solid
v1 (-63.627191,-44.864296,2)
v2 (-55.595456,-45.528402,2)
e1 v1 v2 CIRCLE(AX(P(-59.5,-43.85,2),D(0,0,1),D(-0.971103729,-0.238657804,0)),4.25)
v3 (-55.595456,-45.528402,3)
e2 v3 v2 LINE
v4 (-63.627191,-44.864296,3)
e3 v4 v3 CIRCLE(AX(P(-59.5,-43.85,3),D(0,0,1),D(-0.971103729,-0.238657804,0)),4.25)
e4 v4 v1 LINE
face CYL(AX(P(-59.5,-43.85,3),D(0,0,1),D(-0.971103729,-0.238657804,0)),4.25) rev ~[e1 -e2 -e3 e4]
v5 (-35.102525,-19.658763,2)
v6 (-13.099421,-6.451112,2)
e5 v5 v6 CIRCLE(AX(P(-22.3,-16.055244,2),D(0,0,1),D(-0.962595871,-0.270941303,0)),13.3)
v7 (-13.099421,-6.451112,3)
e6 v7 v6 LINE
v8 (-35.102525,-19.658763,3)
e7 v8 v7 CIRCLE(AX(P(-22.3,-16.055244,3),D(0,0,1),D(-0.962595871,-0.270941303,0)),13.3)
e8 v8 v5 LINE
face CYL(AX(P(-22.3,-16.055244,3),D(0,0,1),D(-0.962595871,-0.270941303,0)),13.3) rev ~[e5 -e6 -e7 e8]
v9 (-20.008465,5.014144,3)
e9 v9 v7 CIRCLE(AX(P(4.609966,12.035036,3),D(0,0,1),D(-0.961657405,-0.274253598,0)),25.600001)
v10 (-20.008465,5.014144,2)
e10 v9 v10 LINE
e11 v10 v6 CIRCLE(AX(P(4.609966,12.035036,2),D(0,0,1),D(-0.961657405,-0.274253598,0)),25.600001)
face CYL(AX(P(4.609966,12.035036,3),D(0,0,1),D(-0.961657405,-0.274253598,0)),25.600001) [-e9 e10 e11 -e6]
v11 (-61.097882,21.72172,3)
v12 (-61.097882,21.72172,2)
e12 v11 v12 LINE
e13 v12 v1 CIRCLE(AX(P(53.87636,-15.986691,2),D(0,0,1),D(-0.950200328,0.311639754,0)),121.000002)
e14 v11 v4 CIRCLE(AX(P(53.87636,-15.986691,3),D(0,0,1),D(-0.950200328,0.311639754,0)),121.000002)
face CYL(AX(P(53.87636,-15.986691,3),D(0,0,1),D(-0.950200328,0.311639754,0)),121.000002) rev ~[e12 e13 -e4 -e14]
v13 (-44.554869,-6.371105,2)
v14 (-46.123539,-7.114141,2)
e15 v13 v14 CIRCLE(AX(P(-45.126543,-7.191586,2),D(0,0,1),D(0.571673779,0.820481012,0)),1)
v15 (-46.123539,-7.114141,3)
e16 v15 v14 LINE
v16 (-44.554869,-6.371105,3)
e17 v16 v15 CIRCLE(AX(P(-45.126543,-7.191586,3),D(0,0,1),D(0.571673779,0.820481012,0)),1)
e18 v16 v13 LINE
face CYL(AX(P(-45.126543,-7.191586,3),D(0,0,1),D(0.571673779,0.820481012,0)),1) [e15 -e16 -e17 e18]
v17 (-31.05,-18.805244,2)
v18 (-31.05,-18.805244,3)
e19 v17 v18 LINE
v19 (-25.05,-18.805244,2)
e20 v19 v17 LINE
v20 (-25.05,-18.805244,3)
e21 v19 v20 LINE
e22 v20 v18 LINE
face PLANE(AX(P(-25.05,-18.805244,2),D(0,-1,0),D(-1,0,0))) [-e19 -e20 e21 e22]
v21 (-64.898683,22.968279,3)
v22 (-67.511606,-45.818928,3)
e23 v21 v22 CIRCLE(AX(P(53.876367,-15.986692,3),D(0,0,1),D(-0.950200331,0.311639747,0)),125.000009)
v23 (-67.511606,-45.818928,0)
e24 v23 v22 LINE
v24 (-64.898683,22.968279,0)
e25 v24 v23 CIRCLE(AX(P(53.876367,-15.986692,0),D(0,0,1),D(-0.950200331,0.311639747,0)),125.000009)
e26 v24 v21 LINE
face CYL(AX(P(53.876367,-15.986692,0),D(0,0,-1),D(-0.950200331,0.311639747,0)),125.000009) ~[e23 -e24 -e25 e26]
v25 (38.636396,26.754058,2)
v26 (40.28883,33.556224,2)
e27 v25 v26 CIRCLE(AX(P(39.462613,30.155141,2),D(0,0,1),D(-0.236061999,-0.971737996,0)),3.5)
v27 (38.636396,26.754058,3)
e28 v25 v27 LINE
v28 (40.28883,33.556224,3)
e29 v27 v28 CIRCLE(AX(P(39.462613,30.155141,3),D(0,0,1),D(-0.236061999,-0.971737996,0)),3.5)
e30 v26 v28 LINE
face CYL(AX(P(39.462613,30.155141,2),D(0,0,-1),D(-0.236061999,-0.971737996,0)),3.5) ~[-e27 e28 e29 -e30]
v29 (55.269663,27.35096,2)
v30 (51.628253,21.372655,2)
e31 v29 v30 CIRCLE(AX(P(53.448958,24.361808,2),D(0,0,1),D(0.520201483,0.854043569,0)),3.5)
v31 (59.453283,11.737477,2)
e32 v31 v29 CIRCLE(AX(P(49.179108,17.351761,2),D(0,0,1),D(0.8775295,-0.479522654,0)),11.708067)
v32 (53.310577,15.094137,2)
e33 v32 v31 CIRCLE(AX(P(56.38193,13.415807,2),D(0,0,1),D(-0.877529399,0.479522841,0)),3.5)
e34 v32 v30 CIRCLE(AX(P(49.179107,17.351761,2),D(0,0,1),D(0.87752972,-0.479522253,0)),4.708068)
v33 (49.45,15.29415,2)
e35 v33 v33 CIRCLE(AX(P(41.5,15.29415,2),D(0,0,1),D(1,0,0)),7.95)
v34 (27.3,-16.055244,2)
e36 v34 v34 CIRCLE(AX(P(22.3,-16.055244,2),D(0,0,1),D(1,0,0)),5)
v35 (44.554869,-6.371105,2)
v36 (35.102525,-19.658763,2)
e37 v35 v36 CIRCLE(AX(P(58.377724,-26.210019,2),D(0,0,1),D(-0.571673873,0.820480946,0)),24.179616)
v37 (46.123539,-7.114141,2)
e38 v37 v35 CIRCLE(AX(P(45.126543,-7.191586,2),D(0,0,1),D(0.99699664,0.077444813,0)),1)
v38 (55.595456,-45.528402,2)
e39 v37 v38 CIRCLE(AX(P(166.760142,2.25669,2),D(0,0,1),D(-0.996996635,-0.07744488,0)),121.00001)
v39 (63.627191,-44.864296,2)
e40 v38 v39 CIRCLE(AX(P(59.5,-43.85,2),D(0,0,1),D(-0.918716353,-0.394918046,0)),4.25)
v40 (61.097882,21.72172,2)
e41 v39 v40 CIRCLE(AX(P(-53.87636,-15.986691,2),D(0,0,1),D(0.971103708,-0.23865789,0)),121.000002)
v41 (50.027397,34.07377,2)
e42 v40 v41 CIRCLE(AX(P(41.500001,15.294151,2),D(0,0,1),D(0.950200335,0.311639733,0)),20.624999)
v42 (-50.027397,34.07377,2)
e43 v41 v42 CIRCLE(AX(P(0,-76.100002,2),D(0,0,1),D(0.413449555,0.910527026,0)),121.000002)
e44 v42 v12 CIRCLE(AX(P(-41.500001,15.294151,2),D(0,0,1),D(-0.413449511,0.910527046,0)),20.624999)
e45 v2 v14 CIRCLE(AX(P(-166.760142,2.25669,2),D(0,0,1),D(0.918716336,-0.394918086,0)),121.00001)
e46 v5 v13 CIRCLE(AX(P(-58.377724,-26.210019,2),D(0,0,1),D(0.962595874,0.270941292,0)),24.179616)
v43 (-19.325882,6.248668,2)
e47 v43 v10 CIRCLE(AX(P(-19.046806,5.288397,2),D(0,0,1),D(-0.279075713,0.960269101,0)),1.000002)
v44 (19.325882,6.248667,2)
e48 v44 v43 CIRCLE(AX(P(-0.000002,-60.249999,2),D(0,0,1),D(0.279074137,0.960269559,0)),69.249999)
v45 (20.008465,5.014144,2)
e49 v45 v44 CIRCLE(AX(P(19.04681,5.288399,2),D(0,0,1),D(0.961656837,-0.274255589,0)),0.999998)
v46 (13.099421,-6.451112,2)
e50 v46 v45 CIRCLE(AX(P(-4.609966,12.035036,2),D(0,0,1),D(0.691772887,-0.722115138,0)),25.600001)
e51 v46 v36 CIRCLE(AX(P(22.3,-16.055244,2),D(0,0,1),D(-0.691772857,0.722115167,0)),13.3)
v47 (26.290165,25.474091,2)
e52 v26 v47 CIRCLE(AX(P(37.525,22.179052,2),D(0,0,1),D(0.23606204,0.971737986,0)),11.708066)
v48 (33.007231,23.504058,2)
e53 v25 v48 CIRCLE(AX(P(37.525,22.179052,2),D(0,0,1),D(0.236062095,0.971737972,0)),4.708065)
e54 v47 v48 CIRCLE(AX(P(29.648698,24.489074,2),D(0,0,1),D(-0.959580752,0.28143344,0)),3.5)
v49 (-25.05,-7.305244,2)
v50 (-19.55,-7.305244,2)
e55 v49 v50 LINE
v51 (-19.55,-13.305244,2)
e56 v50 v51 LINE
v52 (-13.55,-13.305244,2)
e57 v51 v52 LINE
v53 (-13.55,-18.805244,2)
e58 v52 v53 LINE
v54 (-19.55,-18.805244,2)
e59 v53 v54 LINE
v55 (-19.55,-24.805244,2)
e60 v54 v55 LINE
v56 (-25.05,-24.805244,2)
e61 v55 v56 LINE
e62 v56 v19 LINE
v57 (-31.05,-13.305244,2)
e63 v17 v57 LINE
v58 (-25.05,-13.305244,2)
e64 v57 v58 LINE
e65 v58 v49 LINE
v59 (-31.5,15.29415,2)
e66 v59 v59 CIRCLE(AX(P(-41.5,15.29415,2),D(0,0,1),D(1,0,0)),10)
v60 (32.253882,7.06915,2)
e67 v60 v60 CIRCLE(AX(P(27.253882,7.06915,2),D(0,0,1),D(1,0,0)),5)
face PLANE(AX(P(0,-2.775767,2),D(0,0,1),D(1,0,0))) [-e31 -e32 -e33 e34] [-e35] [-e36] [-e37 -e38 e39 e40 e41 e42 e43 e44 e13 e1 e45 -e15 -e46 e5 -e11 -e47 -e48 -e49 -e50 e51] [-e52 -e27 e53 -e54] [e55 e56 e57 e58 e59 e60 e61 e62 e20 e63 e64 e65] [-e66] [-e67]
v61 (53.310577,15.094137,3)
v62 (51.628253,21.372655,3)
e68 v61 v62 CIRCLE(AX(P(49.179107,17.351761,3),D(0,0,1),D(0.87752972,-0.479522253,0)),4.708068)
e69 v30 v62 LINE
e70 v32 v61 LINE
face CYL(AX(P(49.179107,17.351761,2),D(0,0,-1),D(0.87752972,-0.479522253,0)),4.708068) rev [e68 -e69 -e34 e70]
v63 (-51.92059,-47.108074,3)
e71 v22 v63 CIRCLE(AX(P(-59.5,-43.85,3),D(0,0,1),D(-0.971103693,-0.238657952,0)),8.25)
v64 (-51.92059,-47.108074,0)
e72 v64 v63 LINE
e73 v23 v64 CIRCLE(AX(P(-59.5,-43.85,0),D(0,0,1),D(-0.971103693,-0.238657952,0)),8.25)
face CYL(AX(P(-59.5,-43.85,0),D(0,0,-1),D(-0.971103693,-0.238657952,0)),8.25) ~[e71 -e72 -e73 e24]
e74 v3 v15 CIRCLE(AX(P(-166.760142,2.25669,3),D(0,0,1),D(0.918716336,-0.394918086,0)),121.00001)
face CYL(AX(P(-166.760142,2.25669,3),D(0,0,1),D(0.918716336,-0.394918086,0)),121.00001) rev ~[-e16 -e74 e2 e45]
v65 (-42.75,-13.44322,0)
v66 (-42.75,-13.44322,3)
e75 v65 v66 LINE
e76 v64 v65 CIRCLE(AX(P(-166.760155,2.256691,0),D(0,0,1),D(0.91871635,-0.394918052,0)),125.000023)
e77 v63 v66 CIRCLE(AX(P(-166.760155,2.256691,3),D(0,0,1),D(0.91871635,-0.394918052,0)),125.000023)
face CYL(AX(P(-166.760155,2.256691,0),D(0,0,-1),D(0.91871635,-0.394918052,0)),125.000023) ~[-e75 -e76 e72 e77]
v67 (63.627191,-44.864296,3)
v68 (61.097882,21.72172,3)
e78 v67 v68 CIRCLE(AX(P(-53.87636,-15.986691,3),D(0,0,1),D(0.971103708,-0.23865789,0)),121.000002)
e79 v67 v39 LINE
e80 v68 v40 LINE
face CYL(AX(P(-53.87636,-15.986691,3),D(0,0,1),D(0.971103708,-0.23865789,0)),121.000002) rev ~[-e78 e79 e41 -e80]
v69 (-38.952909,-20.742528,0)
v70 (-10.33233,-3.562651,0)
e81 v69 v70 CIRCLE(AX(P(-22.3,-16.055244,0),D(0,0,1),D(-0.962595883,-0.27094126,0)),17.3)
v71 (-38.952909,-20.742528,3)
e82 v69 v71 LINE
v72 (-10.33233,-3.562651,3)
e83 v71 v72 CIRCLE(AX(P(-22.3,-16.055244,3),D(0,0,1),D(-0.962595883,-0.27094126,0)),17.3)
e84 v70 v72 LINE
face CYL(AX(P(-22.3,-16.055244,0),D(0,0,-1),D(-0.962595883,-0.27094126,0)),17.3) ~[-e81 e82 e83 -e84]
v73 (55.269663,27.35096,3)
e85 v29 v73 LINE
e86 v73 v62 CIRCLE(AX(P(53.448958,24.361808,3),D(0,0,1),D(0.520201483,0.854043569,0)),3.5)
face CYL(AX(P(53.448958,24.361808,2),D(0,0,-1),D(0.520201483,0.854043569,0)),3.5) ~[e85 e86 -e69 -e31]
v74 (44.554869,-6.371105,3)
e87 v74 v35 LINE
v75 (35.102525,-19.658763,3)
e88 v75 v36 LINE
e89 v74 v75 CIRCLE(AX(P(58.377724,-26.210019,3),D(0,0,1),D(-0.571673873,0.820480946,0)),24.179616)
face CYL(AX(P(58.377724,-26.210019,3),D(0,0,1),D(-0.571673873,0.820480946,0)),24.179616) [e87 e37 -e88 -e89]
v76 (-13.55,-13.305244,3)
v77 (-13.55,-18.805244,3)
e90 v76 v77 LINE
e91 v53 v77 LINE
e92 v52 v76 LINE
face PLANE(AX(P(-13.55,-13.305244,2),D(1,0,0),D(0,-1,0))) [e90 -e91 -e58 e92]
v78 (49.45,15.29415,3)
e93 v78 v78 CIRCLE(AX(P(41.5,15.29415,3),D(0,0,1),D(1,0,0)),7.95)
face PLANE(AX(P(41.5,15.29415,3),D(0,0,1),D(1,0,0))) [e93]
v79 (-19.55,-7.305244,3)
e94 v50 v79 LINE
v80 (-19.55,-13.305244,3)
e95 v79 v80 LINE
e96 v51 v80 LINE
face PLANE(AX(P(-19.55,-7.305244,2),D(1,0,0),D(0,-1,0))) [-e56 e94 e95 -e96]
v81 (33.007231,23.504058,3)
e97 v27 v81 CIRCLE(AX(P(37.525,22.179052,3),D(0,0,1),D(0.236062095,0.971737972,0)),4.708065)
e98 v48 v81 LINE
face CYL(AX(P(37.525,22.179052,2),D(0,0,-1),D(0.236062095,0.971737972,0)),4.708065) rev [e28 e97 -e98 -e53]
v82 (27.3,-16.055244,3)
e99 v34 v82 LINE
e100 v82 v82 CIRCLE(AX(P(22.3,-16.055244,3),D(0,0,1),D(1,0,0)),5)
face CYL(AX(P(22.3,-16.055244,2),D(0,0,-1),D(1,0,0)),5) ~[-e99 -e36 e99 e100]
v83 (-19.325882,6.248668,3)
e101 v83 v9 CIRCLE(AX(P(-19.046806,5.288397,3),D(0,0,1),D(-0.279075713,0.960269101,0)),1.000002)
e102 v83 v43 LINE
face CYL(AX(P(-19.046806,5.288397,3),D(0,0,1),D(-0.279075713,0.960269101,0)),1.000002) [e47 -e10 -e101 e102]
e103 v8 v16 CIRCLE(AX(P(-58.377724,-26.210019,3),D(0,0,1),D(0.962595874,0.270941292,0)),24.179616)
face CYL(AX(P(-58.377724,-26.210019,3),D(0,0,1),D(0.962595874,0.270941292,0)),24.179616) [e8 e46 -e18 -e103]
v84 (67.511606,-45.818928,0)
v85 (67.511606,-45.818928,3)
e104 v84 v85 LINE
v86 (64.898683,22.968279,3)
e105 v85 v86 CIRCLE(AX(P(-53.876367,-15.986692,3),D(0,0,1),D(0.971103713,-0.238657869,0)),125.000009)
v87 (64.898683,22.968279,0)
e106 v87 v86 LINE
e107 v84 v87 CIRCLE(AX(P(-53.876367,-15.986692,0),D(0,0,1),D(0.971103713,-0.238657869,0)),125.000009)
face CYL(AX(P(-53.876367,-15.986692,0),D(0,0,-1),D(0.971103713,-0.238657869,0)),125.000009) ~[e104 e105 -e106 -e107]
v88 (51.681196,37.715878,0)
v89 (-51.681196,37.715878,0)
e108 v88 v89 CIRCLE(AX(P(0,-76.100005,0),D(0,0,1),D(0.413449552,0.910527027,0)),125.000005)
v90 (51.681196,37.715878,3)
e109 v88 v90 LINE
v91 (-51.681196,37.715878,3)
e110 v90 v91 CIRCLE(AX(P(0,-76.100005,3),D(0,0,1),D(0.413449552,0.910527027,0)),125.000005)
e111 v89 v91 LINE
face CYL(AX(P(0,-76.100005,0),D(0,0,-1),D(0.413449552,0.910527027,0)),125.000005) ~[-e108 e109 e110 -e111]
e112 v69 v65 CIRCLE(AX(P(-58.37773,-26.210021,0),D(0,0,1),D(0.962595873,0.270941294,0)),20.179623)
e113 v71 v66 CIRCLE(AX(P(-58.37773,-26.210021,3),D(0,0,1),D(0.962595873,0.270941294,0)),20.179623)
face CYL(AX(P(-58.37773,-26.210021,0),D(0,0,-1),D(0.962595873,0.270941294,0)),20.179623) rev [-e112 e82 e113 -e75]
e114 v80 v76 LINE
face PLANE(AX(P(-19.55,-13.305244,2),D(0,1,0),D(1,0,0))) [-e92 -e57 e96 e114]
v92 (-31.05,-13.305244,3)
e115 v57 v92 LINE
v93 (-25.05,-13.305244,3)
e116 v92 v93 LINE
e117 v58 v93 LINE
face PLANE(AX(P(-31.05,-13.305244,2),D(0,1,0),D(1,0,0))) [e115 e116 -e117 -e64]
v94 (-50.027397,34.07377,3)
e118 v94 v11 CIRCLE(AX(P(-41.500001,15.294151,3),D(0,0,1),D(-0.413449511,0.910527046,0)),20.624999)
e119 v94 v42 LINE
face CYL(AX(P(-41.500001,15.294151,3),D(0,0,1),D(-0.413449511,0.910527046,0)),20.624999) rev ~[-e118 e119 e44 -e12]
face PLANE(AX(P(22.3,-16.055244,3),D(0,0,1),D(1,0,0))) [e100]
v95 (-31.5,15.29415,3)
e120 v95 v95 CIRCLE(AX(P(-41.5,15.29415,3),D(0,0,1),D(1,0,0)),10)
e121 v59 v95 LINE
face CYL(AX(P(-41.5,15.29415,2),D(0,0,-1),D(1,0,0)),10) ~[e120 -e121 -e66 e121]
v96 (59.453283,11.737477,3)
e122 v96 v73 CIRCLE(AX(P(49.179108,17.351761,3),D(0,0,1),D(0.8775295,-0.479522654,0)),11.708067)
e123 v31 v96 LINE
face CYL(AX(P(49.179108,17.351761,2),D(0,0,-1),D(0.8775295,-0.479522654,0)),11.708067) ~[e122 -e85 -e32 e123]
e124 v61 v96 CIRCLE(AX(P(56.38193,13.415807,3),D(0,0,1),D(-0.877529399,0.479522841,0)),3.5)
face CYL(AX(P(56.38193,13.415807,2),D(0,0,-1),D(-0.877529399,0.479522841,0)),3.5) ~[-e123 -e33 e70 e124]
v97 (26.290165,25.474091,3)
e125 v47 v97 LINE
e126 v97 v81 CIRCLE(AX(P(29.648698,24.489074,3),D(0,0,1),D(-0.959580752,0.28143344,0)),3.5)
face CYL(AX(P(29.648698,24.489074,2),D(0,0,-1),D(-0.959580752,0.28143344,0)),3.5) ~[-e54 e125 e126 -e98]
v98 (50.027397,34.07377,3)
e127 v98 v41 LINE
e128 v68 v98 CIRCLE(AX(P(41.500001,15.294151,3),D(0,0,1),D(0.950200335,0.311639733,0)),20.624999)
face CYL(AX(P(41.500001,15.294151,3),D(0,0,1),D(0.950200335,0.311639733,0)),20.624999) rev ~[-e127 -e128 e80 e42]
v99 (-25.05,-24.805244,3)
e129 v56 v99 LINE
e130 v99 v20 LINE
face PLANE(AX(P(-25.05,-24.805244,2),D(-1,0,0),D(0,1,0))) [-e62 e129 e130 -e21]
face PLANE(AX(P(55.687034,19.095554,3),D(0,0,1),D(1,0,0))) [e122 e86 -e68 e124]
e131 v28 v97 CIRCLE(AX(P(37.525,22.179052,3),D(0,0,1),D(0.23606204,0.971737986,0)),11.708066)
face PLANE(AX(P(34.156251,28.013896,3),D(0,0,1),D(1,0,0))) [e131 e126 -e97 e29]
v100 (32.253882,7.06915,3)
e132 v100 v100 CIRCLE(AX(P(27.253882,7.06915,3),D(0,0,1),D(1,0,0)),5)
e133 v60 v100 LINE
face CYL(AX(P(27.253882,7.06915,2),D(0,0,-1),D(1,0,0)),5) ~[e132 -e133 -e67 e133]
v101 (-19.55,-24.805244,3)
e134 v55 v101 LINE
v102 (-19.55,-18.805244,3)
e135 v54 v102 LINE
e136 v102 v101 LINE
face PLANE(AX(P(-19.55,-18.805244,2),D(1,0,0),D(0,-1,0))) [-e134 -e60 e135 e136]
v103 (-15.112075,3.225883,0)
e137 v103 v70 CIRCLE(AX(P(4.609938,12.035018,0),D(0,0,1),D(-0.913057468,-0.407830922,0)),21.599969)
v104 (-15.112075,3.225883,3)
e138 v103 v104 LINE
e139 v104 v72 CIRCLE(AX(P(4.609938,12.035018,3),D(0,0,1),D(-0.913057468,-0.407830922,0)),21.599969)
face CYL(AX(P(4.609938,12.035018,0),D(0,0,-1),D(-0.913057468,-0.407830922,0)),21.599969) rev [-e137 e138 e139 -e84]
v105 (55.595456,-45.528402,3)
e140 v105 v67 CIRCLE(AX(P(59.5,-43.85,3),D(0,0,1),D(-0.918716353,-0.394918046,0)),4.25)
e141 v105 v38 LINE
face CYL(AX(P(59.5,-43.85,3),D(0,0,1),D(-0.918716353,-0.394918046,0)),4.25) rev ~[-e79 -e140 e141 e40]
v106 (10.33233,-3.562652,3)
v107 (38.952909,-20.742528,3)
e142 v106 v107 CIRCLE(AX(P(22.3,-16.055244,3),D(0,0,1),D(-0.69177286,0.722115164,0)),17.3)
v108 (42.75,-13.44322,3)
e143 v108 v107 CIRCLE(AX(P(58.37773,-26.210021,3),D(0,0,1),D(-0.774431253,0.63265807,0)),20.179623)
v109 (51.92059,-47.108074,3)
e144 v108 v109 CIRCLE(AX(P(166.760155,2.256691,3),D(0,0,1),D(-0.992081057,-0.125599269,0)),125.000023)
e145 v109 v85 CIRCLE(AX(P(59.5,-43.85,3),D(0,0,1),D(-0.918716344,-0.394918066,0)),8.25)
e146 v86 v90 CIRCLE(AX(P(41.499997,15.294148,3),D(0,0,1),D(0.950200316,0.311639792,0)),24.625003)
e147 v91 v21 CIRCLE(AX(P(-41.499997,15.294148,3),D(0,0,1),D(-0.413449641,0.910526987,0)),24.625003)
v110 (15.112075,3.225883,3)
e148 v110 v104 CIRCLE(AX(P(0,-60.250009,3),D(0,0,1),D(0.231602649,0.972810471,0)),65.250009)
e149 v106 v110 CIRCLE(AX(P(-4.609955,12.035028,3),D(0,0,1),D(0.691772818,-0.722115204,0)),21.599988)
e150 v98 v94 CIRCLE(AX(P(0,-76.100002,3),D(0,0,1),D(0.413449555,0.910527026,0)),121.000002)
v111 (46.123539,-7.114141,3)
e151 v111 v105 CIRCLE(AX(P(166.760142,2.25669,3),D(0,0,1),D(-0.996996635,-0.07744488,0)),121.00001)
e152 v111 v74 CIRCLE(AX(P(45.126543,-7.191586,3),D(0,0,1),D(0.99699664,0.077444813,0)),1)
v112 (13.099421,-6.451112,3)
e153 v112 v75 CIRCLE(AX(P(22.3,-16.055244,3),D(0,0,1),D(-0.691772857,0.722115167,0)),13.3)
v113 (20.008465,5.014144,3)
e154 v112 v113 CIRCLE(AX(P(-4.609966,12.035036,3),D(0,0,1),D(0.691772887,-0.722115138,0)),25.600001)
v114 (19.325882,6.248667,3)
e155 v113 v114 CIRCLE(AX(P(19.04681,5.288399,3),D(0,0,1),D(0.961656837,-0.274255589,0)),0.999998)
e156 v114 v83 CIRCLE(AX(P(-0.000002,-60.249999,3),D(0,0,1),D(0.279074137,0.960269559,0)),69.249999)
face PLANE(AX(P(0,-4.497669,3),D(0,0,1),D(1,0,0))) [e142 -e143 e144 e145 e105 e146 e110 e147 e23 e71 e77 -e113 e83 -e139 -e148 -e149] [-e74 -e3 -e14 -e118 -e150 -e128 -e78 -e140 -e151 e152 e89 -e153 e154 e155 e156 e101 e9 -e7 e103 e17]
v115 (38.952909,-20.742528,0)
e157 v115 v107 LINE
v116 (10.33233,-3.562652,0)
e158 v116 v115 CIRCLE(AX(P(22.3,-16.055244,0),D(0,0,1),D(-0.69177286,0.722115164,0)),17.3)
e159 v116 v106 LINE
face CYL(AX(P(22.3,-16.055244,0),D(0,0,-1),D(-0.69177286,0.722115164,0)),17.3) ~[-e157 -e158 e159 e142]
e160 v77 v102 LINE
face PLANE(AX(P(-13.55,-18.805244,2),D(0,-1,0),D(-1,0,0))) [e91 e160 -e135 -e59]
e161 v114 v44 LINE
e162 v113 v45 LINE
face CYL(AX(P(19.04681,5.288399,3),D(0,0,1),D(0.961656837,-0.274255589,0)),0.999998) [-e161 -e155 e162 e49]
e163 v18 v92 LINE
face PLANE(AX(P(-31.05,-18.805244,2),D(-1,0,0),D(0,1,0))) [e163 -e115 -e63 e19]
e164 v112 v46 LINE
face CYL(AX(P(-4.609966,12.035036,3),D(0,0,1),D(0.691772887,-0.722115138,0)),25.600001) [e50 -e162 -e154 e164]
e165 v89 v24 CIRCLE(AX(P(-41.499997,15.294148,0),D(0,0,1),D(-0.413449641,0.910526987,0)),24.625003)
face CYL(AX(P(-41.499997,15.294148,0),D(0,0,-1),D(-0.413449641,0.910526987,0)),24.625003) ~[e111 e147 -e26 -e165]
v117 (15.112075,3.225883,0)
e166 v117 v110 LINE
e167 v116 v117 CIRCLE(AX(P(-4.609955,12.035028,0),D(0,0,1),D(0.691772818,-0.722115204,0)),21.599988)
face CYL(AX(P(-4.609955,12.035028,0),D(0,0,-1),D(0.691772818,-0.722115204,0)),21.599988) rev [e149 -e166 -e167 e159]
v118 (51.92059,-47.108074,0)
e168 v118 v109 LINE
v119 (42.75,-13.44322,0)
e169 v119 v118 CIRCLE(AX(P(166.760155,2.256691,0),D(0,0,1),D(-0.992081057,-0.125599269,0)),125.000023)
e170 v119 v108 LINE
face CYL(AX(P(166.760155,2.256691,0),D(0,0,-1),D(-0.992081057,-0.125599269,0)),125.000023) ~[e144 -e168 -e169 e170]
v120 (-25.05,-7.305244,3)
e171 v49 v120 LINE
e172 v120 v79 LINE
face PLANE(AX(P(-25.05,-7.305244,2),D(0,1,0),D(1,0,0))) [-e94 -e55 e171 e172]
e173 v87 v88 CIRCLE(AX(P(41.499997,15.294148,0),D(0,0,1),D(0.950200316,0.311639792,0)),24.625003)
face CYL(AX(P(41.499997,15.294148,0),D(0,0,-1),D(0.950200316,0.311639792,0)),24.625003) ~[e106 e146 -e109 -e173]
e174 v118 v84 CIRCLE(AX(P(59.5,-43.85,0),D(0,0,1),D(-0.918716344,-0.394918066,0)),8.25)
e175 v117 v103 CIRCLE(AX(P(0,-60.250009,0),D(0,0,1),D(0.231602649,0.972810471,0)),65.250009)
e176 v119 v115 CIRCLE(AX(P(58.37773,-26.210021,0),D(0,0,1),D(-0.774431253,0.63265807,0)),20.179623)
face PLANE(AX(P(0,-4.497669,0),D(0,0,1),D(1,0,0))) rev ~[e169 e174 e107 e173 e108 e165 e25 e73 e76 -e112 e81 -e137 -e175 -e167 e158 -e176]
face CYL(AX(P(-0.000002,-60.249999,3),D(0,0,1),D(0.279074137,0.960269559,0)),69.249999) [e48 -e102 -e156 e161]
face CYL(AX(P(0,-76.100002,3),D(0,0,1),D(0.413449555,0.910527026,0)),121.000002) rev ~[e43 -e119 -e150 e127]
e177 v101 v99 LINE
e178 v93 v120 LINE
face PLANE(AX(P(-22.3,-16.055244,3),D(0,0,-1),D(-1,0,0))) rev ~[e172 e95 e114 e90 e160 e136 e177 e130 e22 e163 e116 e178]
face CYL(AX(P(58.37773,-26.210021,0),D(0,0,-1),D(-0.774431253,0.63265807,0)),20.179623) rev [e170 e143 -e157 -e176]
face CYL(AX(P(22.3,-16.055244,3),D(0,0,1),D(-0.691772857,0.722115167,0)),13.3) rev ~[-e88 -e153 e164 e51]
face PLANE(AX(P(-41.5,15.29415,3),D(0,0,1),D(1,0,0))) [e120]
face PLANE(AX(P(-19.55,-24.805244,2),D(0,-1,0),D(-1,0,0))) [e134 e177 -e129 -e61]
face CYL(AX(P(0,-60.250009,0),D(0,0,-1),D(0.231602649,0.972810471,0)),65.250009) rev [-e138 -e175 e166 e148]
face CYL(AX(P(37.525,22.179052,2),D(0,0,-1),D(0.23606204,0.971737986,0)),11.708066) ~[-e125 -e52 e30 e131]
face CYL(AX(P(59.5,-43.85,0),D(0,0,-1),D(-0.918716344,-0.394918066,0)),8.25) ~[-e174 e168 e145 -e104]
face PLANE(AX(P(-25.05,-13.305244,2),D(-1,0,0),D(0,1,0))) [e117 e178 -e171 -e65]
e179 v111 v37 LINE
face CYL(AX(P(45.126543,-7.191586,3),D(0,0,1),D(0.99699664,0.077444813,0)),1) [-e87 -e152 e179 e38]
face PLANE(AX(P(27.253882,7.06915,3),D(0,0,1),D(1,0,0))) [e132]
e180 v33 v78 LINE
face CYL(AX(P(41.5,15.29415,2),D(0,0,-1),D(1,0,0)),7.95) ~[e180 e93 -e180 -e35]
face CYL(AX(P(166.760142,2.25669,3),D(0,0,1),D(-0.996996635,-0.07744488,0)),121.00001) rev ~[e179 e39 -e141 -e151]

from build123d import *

# Parameters (mm, degrees)
PAD_DEPTH     = 3
POCKET_DEPTH  = 1
SKETCH002_R   = 7.95
SKETCH002_R_2 = 10
SKETCH002_R_3 = 5
PAD001_DEPTH  = 1


with BuildPart() as part:
    # Sketch → Pad (new body)
    with BuildSketch(Plane.XY):
        with BuildLine():
            ThreePointArc((51.681196, 37.715878), (0, 48.9), (-51.681196, 37.715878))
            ThreePointArc((-51.681196, 37.715878), (-59.837802, 31.729345), (-64.898683, 22.968279))
            ThreePointArc((-64.898683, 22.968279), (-71.033558, -11.241914), (-67.511606, -45.818928))
            ThreePointArc((-67.511606, -45.818928), (-60.179833, -52.071942), (-51.92059, -47.108074))
            ThreePointArc((-51.92059, -47.108074), (-46.154899, -30.597197), (-42.75, -13.44322))
            ThreePointArc((-38.952909, -20.742528), (-40.475487, -16.897296), (-42.75, -13.44322))
            ThreePointArc((-38.952909, -20.742528), (-13.396354, -30.88815), (-10.33233, -3.562651))
            ThreePointArc((-15.112075, 3.225883), (-13.051436, -0.400195), (-10.33233, -3.562651))
            ThreePointArc((15.112075, 3.225883), (0, 5), (-15.112075, 3.225883))
            ThreePointArc((10.33233, -3.562652), (13.051436, -0.400195), (15.112075, 3.225883))
            ThreePointArc((10.33233, -3.562652), (13.396355, -30.88815), (38.952909, -20.742528))
            ThreePointArc((42.75, -13.44322), (40.475487, -16.897296), (38.952909, -20.742528))
            ThreePointArc((42.75, -13.44322), (46.154899, -30.597197), (51.92059, -47.108074))
            ThreePointArc((51.92059, -47.108074), (60.179833, -52.071942), (67.511606, -45.818928))
            ThreePointArc((67.511606, -45.818928), (71.033558, -11.241914), (64.898683, 22.968279))
            ThreePointArc((64.898683, 22.968279), (59.837802, 31.729345), (51.681196, 37.715878))
        make_face()
    extrude(amount=PAD_DEPTH)

    # Sketch001 (on Face18 of Pad) → Pocket (cut)
    with BuildSketch(Plane.XY.offset(3)):
        with BuildLine():
            ThreePointArc((-50.027397, 34.07377), (-56.859073, 29.059669), (-61.097882, 21.72172))
            ThreePointArc((-61.097882, 21.72172), (-67.036441, -11.393747), (-63.627191, -44.864296))
            ThreePointArc((-63.627191, -44.864296), (-59.850217, -48.085546), (-55.595456, -45.528402))
            ThreePointArc((-55.595456, -45.528402), (-49.278768, -26.711037), (-46.123539, -7.114141))
            ThreePointArc((-44.554869, -6.371105), (-45.55462, -6.287844), (-46.123539, -7.114141))
            ThreePointArc((-35.102525, -19.658763), (-38.674758, -12.194065), (-44.554869, -6.371105))
            ThreePointArc((-35.102525, -19.658763), (-15.455001, -27.458576), (-13.099421, -6.451112))
            ThreePointArc((-20.008465, 5.014144), (-17.316595, -1.178063), (-13.099421, -6.451112))
            ThreePointArc((-19.325882, 6.248668), (-19.921945, 5.772272), (-20.008465, 5.014144))
            ThreePointArc((19.325882, 6.248667), (0, 9), (-19.325882, 6.248668))
            ThreePointArc((20.008465, 5.014144), (19.921946, 5.772272), (19.325882, 6.248667))
            ThreePointArc((13.099421, -6.451112), (17.316595, -1.178063), (20.008465, 5.014144))
            ThreePointArc((13.099421, -6.451112), (15.455001, -27.458576), (35.102525, -19.658763))
            ThreePointArc((44.554869, -6.371105), (38.674758, -12.194065), (35.102525, -19.658763))
            ThreePointArc((46.123539, -7.114141), (45.55462, -6.287844), (44.554869, -6.371105))
            ThreePointArc((46.123539, -7.114141), (49.278768, -26.711037), (55.595456, -45.528402))
            ThreePointArc((55.595456, -45.528402), (59.850217, -48.085546), (63.627191, -44.864296))
            ThreePointArc((63.627191, -44.864296), (67.036441, -11.393747), (61.097882, 21.72172))
            ThreePointArc((61.097882, 21.72172), (56.859073, 29.059669), (50.027397, 34.07377))
            ThreePointArc((50.027397, 34.07377), (0, 44.9), (-50.027397, 34.07377))
        make_face()
    extrude(amount=-POCKET_DEPTH, mode=Mode.SUBTRACT)

    # Sketch002 (on Face39 of Pocket) → Pad001 (join)
    with BuildSketch(Plane.XY.offset(2)):
        with Locations((41.5, 15.29415)):
            Circle(SKETCH002_R)
        with Locations((-41.5, 15.29415)):
            Circle(SKETCH002_R_2)
        with Locations((27.253882, 7.06915)):
            Circle(SKETCH002_R_3)
        with Locations((22.3, -16.055244)):
            Circle(SKETCH002_R_3)
        with BuildLine():
            ThreePointArc((55.269663, 27.35096), (50.459805, 26.182512), (51.628253, 21.372655))
            ThreePointArc((53.310577, 15.094137), (53.726752, 18.570298), (51.628253, 21.372655))
            ThreePointArc((53.310577, 15.094137), (54.7036, 10.344454), (59.453283, 11.737477))
            ThreePointArc((59.453283, 11.737477), (60.488233, 20.382032), (55.269663, 27.35096))
        make_face()
        with BuildLine():
            ThreePointArc((26.290165, 25.474091), (28.663681, 21.130541), (33.007231, 23.504058))
            ThreePointArc((38.636396, 26.754058), (35.170967, 26.256356), (33.007231, 23.504058))
            ThreePointArc((38.636396, 26.754058), (42.863696, 29.328924), (40.28883, 33.556224))
            ThreePointArc((40.28883, 33.556224), (31.670967, 32.318534), (26.290165, 25.474091))
        make_face()
        Polygon((-25.05, -13.305244), (-25.05, -7.305244), (-19.55, -7.305244), (-19.55, -13.305244), (-13.55, -13.305244), (-13.55, -18.805244), (-19.55, -18.805244), (-19.55, -24.805244), (-25.05, -24.805244), (-25.05, -18.805244), (-31.05, -18.805244), (-31.05, -13.305244), align=None)
    extrude(amount=PAD001_DEPTH)


solid = part.part
